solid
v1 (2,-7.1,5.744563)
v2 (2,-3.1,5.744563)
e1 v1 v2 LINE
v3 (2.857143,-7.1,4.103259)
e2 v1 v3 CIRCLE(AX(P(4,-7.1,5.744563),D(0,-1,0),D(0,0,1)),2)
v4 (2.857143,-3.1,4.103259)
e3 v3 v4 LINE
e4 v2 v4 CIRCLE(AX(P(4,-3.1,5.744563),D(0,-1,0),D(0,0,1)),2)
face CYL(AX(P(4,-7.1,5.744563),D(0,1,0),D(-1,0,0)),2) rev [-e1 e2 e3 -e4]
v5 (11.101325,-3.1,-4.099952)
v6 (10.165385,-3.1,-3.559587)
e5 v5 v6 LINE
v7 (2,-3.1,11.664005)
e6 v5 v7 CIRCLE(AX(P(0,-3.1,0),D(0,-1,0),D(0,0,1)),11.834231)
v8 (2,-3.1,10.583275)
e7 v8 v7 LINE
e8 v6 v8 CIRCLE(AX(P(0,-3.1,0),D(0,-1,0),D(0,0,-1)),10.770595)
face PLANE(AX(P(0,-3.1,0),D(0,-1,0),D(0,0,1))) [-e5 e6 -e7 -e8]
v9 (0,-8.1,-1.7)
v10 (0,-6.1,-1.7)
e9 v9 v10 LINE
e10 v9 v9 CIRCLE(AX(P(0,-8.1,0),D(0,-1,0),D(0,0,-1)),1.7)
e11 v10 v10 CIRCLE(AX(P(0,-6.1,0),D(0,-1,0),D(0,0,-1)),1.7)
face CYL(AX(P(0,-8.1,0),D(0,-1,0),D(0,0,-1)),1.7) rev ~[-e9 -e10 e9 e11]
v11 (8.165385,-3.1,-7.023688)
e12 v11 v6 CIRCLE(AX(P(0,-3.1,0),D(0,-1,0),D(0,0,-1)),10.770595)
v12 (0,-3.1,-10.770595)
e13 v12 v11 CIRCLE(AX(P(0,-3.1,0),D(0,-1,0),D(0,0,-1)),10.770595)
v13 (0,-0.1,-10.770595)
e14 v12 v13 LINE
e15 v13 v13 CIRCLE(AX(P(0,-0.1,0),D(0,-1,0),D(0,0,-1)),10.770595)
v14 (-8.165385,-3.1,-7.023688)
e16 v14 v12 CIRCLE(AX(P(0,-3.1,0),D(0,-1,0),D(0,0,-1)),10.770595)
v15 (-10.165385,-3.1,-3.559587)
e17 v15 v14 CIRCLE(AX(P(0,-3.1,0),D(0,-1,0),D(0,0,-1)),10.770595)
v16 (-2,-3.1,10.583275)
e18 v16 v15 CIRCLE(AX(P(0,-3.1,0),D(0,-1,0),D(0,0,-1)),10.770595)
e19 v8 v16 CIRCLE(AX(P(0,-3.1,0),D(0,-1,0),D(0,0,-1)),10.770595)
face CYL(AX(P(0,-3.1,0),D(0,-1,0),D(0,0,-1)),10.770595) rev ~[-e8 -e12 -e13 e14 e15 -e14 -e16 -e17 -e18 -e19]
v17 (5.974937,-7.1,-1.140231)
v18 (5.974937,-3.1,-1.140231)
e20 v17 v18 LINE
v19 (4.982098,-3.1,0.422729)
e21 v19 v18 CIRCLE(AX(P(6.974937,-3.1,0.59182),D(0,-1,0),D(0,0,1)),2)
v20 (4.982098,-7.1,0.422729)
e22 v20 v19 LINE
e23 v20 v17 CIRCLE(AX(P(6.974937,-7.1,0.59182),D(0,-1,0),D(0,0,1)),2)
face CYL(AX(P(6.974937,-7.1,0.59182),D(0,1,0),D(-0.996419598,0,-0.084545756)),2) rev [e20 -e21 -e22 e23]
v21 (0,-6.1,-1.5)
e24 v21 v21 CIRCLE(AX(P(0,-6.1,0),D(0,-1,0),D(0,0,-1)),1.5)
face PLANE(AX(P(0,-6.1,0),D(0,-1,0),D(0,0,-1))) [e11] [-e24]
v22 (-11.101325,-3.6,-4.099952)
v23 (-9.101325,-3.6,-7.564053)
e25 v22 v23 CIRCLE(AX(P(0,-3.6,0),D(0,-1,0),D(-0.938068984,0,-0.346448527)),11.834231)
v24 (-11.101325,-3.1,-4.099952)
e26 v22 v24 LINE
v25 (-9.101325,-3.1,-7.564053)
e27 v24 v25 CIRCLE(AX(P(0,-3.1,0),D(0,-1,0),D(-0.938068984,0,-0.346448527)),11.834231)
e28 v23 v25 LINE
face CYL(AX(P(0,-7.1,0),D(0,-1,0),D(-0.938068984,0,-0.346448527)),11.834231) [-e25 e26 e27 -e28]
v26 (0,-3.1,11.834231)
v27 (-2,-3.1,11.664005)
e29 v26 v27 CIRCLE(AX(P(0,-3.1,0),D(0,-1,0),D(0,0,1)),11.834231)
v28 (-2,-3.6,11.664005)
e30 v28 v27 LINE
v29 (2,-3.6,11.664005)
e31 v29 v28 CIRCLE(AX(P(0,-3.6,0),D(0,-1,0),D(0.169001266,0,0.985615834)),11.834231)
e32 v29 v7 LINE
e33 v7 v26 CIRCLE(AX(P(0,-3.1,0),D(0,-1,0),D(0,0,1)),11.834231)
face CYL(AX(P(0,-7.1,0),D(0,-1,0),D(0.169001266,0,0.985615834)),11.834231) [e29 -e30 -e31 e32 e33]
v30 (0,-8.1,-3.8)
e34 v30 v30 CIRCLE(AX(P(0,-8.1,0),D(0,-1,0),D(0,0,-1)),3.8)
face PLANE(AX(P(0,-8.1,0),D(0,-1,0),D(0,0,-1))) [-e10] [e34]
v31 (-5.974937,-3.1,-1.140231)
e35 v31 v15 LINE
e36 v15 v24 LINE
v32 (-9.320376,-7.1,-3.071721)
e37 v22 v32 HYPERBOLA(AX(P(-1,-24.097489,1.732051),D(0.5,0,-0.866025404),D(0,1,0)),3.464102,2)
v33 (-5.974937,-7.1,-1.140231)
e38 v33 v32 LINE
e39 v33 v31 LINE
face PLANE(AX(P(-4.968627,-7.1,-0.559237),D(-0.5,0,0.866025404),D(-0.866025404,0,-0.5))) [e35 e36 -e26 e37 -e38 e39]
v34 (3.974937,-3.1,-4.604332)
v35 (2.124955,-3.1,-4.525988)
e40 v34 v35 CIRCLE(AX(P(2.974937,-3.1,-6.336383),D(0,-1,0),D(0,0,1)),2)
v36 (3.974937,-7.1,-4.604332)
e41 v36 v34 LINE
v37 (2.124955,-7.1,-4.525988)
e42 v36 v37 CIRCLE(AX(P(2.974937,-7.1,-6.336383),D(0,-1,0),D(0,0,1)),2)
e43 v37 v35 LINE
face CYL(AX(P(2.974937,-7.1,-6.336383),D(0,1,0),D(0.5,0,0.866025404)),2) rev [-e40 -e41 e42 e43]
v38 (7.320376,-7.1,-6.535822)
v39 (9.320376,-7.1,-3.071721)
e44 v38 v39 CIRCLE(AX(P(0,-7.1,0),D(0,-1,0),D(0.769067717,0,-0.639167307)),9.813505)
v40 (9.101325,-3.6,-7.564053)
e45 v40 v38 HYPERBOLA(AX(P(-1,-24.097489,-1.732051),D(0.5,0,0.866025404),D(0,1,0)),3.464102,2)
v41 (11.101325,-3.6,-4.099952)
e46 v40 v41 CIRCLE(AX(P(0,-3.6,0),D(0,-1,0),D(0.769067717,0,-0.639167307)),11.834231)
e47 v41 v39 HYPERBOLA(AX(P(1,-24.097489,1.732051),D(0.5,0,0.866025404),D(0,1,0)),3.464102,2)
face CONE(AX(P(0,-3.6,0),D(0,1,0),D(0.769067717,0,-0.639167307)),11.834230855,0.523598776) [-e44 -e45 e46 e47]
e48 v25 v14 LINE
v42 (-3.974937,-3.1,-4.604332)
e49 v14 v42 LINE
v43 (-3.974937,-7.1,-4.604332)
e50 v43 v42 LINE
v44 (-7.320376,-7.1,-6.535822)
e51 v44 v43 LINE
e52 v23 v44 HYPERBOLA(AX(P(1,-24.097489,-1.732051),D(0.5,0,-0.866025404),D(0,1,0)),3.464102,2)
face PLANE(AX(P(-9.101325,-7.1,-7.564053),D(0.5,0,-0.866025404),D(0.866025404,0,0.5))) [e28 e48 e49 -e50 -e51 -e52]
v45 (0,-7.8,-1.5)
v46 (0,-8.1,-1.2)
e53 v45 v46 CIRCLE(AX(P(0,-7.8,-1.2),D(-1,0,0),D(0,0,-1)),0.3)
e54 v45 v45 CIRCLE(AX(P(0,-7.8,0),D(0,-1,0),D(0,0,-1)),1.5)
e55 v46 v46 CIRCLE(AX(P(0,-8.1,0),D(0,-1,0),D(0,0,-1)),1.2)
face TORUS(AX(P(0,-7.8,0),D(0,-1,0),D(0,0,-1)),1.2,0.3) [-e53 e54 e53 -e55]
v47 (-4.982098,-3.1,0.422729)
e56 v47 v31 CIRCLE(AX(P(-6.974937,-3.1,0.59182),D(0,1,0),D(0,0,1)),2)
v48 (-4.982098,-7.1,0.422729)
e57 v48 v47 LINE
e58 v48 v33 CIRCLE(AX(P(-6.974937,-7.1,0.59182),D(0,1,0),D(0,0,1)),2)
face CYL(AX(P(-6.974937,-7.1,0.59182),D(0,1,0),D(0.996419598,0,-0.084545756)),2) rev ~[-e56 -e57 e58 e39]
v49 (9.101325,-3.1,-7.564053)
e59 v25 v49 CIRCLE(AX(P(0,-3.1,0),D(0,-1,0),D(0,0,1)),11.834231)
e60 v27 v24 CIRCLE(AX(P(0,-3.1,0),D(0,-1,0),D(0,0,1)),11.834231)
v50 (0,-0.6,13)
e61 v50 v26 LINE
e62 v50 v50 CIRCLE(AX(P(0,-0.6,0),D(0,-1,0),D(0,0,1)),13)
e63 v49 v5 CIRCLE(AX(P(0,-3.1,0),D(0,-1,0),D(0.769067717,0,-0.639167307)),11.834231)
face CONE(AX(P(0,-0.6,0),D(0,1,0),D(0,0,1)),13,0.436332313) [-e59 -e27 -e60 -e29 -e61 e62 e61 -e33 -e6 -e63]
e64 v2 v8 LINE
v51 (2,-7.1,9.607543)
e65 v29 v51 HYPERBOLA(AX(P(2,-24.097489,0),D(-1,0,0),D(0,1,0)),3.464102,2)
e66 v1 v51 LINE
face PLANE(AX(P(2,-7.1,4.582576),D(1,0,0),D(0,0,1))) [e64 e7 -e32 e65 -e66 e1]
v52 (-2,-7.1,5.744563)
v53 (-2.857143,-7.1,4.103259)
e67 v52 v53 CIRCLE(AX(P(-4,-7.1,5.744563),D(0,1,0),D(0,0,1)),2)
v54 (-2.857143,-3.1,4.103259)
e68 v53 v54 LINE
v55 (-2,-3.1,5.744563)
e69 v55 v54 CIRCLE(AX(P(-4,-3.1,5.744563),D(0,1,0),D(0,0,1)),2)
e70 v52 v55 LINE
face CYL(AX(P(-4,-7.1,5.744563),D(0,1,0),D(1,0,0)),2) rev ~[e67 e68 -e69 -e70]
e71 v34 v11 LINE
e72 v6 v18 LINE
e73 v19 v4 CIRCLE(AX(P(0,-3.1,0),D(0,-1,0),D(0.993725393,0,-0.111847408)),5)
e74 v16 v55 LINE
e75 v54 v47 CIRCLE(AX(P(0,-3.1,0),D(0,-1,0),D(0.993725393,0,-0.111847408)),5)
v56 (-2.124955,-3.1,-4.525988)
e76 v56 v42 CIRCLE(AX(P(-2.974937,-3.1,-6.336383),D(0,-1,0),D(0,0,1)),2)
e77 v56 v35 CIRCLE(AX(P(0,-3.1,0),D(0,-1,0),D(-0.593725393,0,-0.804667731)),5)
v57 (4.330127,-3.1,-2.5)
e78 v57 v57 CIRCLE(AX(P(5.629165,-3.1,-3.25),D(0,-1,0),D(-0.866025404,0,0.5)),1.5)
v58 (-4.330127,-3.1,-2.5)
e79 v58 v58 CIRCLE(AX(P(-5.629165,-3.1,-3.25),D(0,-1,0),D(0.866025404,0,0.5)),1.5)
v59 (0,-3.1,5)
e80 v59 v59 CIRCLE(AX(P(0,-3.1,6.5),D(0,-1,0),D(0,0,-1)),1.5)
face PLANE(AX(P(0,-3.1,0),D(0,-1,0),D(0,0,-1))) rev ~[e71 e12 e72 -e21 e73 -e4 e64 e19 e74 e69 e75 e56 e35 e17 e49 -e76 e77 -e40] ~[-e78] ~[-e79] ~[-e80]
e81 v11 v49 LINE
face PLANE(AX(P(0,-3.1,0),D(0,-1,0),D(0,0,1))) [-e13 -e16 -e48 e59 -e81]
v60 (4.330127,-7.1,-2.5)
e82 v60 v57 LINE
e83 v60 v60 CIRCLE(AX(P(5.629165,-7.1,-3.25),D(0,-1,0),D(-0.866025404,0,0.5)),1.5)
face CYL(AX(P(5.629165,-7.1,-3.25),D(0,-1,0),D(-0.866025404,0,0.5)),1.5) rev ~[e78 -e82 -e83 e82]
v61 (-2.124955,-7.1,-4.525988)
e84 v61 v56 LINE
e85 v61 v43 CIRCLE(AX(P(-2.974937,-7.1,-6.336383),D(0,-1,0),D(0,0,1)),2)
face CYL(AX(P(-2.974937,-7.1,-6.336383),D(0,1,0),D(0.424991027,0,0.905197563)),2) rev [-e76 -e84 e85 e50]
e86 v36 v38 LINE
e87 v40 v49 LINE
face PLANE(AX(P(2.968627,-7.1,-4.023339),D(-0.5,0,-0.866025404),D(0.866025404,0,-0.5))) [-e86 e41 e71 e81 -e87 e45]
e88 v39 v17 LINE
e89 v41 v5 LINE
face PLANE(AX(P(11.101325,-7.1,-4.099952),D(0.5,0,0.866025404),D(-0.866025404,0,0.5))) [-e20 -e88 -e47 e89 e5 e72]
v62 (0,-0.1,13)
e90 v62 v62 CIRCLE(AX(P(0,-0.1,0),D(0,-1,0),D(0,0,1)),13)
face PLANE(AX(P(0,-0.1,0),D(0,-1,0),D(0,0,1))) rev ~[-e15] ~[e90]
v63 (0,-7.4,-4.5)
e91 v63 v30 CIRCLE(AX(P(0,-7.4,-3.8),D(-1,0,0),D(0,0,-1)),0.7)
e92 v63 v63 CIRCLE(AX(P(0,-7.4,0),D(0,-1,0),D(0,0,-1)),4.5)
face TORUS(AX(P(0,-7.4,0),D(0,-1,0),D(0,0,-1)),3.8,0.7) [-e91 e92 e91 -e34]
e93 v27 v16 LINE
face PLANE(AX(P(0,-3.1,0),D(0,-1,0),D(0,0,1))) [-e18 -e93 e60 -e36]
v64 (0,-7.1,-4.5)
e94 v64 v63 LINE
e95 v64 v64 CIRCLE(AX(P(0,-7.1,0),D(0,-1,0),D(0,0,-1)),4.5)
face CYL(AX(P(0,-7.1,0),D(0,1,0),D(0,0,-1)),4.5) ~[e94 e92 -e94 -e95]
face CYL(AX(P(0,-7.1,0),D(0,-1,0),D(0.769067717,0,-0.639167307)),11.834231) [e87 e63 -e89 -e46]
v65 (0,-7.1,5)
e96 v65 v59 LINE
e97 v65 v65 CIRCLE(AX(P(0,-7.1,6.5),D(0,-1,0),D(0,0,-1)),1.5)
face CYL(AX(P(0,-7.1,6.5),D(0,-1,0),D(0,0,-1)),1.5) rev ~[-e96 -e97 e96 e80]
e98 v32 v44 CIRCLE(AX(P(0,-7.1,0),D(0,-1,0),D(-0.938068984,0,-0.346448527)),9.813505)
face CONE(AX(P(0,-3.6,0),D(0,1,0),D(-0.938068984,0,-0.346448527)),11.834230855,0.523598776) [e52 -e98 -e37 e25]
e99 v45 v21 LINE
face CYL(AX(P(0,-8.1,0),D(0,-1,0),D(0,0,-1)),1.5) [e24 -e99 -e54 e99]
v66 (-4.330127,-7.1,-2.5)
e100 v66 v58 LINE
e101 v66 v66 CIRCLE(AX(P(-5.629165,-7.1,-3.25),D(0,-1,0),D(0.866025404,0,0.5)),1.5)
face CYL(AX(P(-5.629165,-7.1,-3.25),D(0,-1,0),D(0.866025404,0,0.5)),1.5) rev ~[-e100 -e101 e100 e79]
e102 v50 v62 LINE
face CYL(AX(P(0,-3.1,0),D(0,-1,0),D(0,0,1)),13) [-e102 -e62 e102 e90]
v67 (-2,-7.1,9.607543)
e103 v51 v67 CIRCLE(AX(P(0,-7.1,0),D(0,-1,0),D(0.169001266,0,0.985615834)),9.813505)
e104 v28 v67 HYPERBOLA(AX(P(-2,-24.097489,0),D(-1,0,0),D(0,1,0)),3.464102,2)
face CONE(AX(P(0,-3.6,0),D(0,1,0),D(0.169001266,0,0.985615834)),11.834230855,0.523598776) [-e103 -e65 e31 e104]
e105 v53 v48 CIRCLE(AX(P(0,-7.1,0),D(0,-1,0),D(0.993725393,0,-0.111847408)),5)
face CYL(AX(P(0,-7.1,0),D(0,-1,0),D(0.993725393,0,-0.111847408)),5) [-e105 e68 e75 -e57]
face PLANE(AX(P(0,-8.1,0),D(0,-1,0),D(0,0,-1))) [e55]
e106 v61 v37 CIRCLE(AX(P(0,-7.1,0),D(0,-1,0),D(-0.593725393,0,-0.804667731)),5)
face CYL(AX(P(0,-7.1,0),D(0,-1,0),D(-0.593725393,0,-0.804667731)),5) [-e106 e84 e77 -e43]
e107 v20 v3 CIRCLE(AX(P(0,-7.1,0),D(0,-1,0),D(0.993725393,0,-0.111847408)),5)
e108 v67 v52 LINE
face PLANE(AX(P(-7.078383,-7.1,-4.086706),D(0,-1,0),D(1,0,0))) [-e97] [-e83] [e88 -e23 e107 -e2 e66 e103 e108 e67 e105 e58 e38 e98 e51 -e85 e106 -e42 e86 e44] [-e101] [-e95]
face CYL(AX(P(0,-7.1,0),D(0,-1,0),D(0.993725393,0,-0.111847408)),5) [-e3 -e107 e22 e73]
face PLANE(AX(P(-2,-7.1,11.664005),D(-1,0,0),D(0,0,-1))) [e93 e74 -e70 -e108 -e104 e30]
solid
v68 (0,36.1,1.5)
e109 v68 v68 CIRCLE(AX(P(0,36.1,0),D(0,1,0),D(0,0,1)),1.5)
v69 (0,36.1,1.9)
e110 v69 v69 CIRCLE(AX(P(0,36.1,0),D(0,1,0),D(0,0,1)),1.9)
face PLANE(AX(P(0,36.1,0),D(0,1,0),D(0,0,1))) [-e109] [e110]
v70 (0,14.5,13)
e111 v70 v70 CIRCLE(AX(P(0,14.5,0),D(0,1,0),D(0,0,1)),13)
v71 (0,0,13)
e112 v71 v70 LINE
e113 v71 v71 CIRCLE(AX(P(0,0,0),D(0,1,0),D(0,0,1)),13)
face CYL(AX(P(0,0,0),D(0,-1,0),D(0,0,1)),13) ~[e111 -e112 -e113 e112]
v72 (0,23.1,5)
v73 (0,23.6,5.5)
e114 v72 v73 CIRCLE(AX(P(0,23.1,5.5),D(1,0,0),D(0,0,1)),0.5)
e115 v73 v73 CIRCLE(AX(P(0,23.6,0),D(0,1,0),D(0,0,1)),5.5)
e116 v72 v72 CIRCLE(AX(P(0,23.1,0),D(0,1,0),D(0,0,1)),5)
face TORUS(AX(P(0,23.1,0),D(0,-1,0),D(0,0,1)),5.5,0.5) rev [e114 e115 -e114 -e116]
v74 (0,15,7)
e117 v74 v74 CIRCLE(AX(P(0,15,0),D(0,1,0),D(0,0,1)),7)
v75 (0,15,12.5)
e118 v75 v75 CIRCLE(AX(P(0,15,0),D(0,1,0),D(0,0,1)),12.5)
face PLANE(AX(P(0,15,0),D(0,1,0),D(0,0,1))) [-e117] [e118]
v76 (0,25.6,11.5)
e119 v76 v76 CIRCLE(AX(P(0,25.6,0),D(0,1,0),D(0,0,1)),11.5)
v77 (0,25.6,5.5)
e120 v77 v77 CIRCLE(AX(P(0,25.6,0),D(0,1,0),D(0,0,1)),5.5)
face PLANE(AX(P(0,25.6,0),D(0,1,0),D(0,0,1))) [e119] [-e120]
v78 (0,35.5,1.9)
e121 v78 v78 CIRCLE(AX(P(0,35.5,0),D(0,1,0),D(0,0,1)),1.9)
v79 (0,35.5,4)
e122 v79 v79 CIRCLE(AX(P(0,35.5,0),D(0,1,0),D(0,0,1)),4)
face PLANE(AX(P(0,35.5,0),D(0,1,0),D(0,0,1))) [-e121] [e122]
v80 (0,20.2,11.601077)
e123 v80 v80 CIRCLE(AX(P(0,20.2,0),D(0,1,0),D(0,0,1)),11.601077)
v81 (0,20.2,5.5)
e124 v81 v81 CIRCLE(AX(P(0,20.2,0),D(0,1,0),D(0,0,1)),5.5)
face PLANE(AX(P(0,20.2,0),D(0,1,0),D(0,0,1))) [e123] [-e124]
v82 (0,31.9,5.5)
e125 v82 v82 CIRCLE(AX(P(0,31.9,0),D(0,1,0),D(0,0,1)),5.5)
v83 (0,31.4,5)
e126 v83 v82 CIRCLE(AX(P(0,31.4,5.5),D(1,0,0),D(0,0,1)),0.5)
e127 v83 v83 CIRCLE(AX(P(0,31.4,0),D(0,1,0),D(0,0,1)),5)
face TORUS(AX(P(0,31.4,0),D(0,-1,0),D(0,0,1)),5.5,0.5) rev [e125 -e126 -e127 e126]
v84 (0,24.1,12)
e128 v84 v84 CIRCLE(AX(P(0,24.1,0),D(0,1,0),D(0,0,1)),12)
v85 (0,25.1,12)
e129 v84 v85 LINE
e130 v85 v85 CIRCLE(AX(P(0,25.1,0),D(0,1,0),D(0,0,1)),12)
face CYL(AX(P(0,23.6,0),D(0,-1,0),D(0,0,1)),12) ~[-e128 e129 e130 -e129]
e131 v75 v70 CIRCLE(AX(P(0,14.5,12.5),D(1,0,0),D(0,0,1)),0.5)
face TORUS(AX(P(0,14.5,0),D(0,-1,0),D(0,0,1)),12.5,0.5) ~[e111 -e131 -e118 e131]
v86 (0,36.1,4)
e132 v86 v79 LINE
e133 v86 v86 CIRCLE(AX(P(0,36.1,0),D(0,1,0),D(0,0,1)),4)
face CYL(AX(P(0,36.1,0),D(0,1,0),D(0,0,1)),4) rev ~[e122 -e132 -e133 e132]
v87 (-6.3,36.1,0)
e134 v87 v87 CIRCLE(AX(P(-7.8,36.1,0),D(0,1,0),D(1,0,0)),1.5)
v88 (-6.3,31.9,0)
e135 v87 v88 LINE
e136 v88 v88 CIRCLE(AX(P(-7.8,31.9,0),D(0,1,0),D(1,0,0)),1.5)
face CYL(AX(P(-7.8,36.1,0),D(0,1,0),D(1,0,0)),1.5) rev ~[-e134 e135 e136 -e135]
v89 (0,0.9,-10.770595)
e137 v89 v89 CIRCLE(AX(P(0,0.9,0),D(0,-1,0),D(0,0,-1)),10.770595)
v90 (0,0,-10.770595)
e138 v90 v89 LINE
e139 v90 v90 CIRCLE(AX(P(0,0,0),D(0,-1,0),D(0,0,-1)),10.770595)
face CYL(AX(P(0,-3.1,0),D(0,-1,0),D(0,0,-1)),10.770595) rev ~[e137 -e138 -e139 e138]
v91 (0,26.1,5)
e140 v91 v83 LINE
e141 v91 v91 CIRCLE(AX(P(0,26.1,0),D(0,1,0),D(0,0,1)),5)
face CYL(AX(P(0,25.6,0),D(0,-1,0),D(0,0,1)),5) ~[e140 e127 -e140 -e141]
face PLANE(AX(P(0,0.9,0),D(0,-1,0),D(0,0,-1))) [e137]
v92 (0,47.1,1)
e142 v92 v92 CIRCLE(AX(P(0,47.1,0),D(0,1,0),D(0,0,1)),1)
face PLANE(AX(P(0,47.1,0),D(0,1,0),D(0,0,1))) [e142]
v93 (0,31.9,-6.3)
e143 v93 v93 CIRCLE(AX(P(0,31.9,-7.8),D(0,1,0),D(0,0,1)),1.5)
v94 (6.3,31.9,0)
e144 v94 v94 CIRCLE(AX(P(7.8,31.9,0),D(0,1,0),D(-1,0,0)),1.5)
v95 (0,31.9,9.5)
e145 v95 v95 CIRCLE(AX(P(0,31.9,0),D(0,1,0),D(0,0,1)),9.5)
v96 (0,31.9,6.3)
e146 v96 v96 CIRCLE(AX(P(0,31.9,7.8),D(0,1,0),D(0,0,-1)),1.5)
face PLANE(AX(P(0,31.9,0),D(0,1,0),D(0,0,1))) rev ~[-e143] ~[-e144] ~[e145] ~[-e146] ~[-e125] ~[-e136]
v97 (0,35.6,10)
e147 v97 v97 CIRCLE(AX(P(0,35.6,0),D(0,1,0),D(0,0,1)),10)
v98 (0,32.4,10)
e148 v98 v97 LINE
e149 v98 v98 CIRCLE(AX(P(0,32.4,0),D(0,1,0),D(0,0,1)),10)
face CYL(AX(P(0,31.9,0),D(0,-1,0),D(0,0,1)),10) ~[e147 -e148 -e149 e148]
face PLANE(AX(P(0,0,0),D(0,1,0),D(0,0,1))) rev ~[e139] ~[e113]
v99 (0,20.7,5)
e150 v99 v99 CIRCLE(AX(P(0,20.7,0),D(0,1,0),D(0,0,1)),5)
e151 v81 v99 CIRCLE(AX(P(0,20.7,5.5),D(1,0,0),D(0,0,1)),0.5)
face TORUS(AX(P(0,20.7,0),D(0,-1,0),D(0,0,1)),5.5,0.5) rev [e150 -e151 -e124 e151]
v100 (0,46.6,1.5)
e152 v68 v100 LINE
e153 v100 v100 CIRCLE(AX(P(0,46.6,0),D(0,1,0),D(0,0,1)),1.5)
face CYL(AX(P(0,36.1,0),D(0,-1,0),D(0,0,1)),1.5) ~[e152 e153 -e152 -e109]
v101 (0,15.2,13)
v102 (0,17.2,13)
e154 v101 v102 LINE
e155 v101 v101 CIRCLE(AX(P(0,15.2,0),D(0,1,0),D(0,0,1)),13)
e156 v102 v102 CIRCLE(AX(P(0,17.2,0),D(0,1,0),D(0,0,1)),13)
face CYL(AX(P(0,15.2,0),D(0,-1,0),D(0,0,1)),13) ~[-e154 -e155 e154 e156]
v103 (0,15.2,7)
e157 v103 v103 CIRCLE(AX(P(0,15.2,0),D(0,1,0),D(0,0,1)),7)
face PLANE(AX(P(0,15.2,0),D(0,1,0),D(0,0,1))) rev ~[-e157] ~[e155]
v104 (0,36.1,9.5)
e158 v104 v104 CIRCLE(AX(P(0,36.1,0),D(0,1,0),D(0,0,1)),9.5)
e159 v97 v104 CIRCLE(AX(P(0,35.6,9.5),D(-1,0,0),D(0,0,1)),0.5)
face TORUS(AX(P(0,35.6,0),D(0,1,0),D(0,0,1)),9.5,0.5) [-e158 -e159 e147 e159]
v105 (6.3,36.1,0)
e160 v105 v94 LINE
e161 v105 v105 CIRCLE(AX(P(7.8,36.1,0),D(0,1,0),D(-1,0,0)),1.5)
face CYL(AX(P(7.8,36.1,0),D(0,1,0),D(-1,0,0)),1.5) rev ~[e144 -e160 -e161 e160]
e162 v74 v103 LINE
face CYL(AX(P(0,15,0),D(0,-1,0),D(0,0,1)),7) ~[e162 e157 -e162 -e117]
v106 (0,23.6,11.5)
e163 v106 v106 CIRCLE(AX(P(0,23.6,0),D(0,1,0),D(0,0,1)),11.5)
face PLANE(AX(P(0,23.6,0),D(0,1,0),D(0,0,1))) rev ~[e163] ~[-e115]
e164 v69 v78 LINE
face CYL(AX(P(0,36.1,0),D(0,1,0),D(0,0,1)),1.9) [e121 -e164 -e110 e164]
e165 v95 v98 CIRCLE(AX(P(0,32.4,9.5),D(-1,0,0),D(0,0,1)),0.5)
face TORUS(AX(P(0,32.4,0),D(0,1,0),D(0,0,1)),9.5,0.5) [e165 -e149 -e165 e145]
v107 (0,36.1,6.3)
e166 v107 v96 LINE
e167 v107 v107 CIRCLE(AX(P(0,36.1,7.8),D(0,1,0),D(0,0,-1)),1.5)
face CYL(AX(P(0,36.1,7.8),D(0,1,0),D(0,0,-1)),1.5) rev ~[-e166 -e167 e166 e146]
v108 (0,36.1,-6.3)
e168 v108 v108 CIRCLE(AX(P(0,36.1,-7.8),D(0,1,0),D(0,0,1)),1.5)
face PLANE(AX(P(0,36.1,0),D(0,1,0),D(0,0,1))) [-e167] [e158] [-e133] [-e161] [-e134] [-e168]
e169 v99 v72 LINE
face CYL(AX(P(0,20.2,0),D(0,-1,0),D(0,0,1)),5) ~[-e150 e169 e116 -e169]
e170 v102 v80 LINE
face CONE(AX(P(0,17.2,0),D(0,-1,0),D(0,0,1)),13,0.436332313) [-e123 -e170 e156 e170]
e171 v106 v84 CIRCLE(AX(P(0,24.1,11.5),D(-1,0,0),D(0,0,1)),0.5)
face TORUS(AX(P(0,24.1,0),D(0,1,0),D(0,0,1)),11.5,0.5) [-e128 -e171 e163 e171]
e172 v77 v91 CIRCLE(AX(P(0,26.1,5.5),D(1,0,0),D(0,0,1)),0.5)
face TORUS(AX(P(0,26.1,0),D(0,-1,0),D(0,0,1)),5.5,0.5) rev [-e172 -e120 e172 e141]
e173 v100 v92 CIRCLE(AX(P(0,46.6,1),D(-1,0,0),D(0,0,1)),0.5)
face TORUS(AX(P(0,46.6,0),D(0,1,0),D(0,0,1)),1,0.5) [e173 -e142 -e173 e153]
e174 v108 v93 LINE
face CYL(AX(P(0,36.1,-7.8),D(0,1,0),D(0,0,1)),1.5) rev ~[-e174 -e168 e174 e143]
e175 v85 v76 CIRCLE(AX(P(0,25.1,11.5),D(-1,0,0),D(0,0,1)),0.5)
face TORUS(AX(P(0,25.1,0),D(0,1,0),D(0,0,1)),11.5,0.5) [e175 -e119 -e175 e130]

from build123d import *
from OCP.BRepFilletAPI import BRepFilletAPI_MakeChamfer

# Parameters (mm, degrees)
SKETCH1_R            = 13
BOSS_EXTRUDE1_DEPTH  = 15
SKETCH2_R            = 7
BOSS_EXTRUDE2_DEPTH  = 0.2
SKETCH4_R            = 13.000000000000004
BOSS_EXTRUDE3_DEPTH  = 5
SKETCH5_R            = 5
BOSS_EXTRUDE4_DEPTH  = 3.4
SKETCH6_R            = 12
BOSS_EXTRUDE5_DEPTH  = 2
SKETCH7_R            = 5
BOSS_EXTRUDE6_DEPTH  = 6.3
SKETCH8_R            = 10
BOSS_EXTRUDE7_DEPTH  = 4.2
CHAMFER1_SIZE        = 3
CHAMFER1_SIZE2       = 1.3989229744649996
FILLET1_R            = 0.5
SKETCH9_R            = 8.463574214087313
BOSS_EXTRUDE8_DEPTH  = 0.1
BOSS_EXTRUDE9_START  = 3
SKETCH10_R           = 13.000000000000004
BOSS_EXTRUDE9_DEPTH  = 3
CHAMFER2_SIZE        = 2.5
CHAMFER2_SIZE2       = 1.1657691453874992
BOSS_EXTRUDE10_START = 4
BOSS_EXTRUDE10_DEPTH = 4
CHAMFER3_SIZE        = 3.5
CHAMFER3_SIZE2       = 2.0207259421636956
SKETCH13_R           = 10.77059477245057
CUT_EXTRUDE1_DEPTH   = 4
SKETCH14_R           = 4.5
BOSS_EXTRUDE11_DEPTH = 1
FILLET2_R            = 0.7
FILLET3_R            = 2
SKETCH15_R           = 1.5000000000000002
CUT_EXTRUDE2_DEPTH   = 4
CIRPATTERN1_COUNT    = 3
SKETCH16_R           = 1.7
SKETCH16_R_2         = 1.5
CUT_EXTRUDE3_DEPTH   = 2
FILLET4_R            = 0.3
SKETCH17_R           = 4
SKETCH17_R_2         = 1.9
CUT_EXTRUDE4_DEPTH   = 0.6
SKETCH18_R           = 1.5
BOSS_EXTRUDE12_DEPTH = 11
FILLET5_R            = 0.5
SKETCH19_R           = 1.4999999999999998
CUT_EXTRUDE5_DEPTH   = 5
CIRPATTERN2_COUNT    = 4


with BuildPart() as part:
    # Sketch1 → Boss-Extrude1 (new body)
    with BuildSketch(Plane(origin=(0, 0, 0), x_dir=(1, 0, 0), z_dir=(0, 1, 0))):
        with Locations(Location((0, 0, 0), (0, 0, 270))):
            Circle(SKETCH1_R)
    extrude(amount=BOSS_EXTRUDE1_DEPTH)

    # Sketch2 → Boss-Extrude2 (add)
    with BuildSketch(Plane(origin=(0, 15, 0), x_dir=(1, 0, 0), z_dir=(0, 1, 0))):
        with Locations(Location((0, 0, 0), (0, 0, 270))):
            Circle(SKETCH2_R)
    extrude(amount=BOSS_EXTRUDE2_DEPTH)

    # Sketch4 → Boss-Extrude3 (add)
    with BuildSketch(Plane(origin=(0, 15.2, 0), x_dir=(1, 0, 0), z_dir=(0, 1, 0))):
        with Locations(Location((0, 0, 0), (0, 0, 270))):
            Circle(SKETCH4_R)
    extrude(amount=BOSS_EXTRUDE3_DEPTH)

    # Sketch5 → Boss-Extrude4 (add)
    with BuildSketch(Plane(origin=(0, 20.2, 0), x_dir=(1, 0, 0), z_dir=(0, 1, 0))):
        with Locations(Location((0, 0, 0), (0, 0, 270))):
            Circle(SKETCH5_R)
    extrude(amount=BOSS_EXTRUDE4_DEPTH)

    # Sketch6 → Boss-Extrude5 (add)
    with BuildSketch(Plane(origin=(0, 23.599999999999998, 0), x_dir=(1, 0, 0), z_dir=(0, 1, 0))):
        with Locations(Location((0, 0, 0), (0, 0, 270))):
            Circle(SKETCH6_R)
    extrude(amount=BOSS_EXTRUDE5_DEPTH)

    # Sketch7 → Boss-Extrude6 (add)
    with BuildSketch(Plane(origin=(0, 25.599999999999998, 0), x_dir=(1, 0, 0), z_dir=(0, 1, 0))):
        with Locations(Location((0, 0, 0), (0, 0, 270))):
            Circle(SKETCH7_R)
    extrude(amount=BOSS_EXTRUDE6_DEPTH)

    # Sketch8 → Boss-Extrude7 (add)
    with BuildSketch(Plane(origin=(0, 31.9, 0), x_dir=(1, 0, 0), z_dir=(0, 1, 0))):
        with Locations(Location((0, 0, 0), (0, 0, 270))):
            Circle(SKETCH8_R)
    extrude(amount=BOSS_EXTRUDE7_DEPTH)

    # Chamfer1
    chamfer1_edges = [part.edges().sort_by_distance(p)[0] for p in [
        (3.98e-15, 20.2, -13.000000000000004),
    ]]
    chamfer1_side = [part.faces().sort_by_distance(p)[0] for p in [
        (3.98e-15, 17.7, -13.000000000000004),
    ]]
    chamfer(chamfer1_edges, length=CHAMFER1_SIZE, length2=CHAMFER1_SIZE2, reference=chamfer1_side[0])

    # Fillet1
    fillet1_edges = [part.edges().sort_by_distance(p)[0] for p in [
        (1.53e-15, 20.2, -5),
        (1.53e-15, 23.599999999999998, -5),
        (3.67e-15, 23.599999999999998, -12),
        (3.67e-15, 25.599999999999998, -12),
        (1.53e-15, 25.599999999999998, -5),
        (1.53e-15, 31.9, -5),
        (3.06e-15, 31.9, -10),
        (3.06e-15, 36.1, -10),
        (-1.79e-15, 15, -13),
    ]]
    fillet(fillet1_edges, radius=FILLET1_R)

    # Sketch9 → Boss-Extrude8 (add)
    with BuildSketch(Plane.XZ):
        with Locations(Location((0, 0, 0), (0, 0, 270))):
            Circle(SKETCH9_R)
    extrude(amount=BOSS_EXTRUDE8_DEPTH)

    # Sketch10 → Boss-Extrude9 (add)
    with BuildSketch(Plane.XZ.offset(0.1).offset(BOSS_EXTRUDE9_START)):
        with Locations(Location((0, 0, 0), (0, 0, 90))):
            Circle(SKETCH10_R)
    extrude(amount=-BOSS_EXTRUDE9_DEPTH)

    # Chamfer2
    chamfer2_edges = [part.edges().sort_by_distance(p)[0] for p in [
        (-2.39e-15, -3.1, -13.000000000000004),
    ]]
    chamfer2_side = [part.faces().sort_by_distance(p)[0] for p in [
        (-2.39e-15, -1.6, -13.000000000000004),
    ]]
    chamfer(chamfer2_edges, length=CHAMFER2_SIZE, length2=CHAMFER2_SIZE2, reference=chamfer2_side[0])

    # Sketch12 → Boss-Extrude10 (add)
    with BuildSketch(Plane.XZ.offset(3.1).offset(BOSS_EXTRUDE10_START)):
        with BuildLine():
            Line((-4.968626966596926, -0.5592370399090334), (-11.10132491013915, -4.099951848471753))
            ThreePointArc((-11.1013249101391, -4.099951848471809), (-10.713631015383742, -5.026642058717716), (-10.248744788504228, -5.917115021728898))
            ThreePointArc((-10.248744788504228, -5.917115021728898), (-9.710015493984855, -6.764955212478231), (-9.101324910139237, -7.564053463609399))
            Line((-9.101324910139185, -7.56405346360953), (-2.9686269665968643, -4.023338655046755))
            ThreePointArc((-2.96862696659685, -4.023338655046824), (-4.330127018922175, -2.5000000000000315), (-4.968626966596883, -0.5592370399090708))
        make_face()
        with BuildLine():
            Line((-2.0000000000000036, 1.1547005383792586), (-4.968626966596926, -0.5592370399090334))
            ThreePointArc((-4.968626966596883, -0.5592370399090708), (-4.330127018922175, -2.5000000000000315), (-2.96862696659685, -4.023338655046824))
            Line((-2.9686269665968643, -4.023338655046755), (-3.55e-15, -2.3094010767584994))
            Line((-5.33e-15, -2.3094010767585016), (-1.000000000000002, -1.7320508075688765))
            Line((-1.000000000000002, -1.7320508075688765), (4.4e-16, 2.2e-16))
            Line((0, 2.3e-16), (-2, -1e-17))
            Line((-2, -1e-17), (-2, 1.15470053837926))
        make_face()
        with BuildLine():
            Line((-3.55e-15, -2.3094010767584994), (-2.9686269665968643, -4.023338655046755))
            ThreePointArc((-2.96862696659685, -4.023338655046824), (-1.868e-14, -5), (2.96862696659682, -4.023338655046846))
            Line((2.968626966596837, -4.023338655046775), (-5.33e-15, -2.3094010767585016))
        make_face()
        with BuildLine():
            Line((0.9999999999999911, -1.7320508075688847), (-3.55e-15, -2.3094010767584994))
            Line((-5.33e-15, -2.3094010767585016), (2.968626966596837, -4.023338655046775))
            ThreePointArc((2.96862696659682, -4.023338655046846), (4.330127018922203, -2.499999999999983), (4.968626966596899, -0.559237039908927))
            Line((4.968626966596811, -0.5592370399090061), (2.0000000000000027, 1.1547005383792481))
            Line((2.000000000000002, 1.1547005383792481), (2.0000000000000027, 4.8e-16))
            Line((2.0000000000000027, 4.8e-16), (0, 2.3e-16))
            Line((2.2e-16, -2.2e-16), (0.9999999999999907, -1.7320508075688847))
        make_face()
        with BuildLine():
            Line((2.968626966596837, -4.023338655046775), (9.10132491013913, -7.564053463609591))
            ThreePointArc((9.101324910139173, -7.564053463609475), (9.710015458843332, -6.76495526291829), (10.248744727029683, -5.917115128205941))
            ThreePointArc((10.248744727029683, -5.917115128205941), (10.713630989272133, -5.026642114371199), (11.101324910139066, -4.0999518484719015))
            Line((11.101324910139121, -4.099951848471832), (4.968626966596811, -0.5592370399090061))
            ThreePointArc((4.968626966596899, -0.559237039908927), (4.330127018922203, -2.499999999999983), (2.96862696659682, -4.023338655046846))
        make_face()
        Polygon((-1.000000000000002, -1.7320508075688765), (-5.33e-15, -2.3094010767585016), (0.9999999999999911, -1.7320508075688847), (2.2e-16, -2.2e-16), align=None)
        Polygon((1.000000000000002, 1.7320508075688756), (4.4e-16, 2.2e-16), (2.0000000000000027, 4.8e-16), (2.000000000000002, 1.1547005383792481), align=None)
        with BuildLine():
            ThreePointArc((5, 0), (4.183300132670404, 2.738612787525792), (2.0000000000000853, 4.5825756949558025))
            Line((2.0000000000000018, 4.582575694955776), (2.000000000000002, 1.1547005383792481))
            Line((2.0000000000000027, 1.1547005383792481), (4.968626966596811, -0.5592370399090061))
            ThreePointArc((4.968626966596899, -0.559237039908927), (4.992150580310278, -0.28005817879104034), (5, -1.22e-15))
        make_face()
        with BuildLine():
            Line((-2, 4.582575694955866), (-2, 1.15470053837926))
            Line((-2.0000000000000036, 1.1547005383792586), (-0.9999999999999911, 1.7320508075688839))
            Line((-0.9999999999999902, 1.7320508075688843), (2.2e-16, -2.2e-16))
            Line((4.4e-16, 2.2e-16), (1.000000000000002, 1.7320508075688756))
            Line((1.000000000000002, 1.7320508075688756), (2.0000000000000027, 1.1547005383792481))
            Line((2.000000000000002, 1.1547005383792481), (2.0000000000000018, 4.582575694955776))
            ThreePointArc((2.0000000000000853, 4.5825756949558025), (6.47e-14, 5), (-1.9999999999999662, 4.582575694955855))
        make_face()
        with BuildLine():
            ThreePointArc((-1.9999999999999662, 4.582575694955855), (-4.330127018922191, 2.500000000000004), (-4.968626966596883, -0.5592370399090708))
            Line((-4.968626966596926, -0.5592370399090334), (-2.0000000000000036, 1.1547005383792586))
            Line((-2, 1.15470053837926), (-2, 4.582575694955866))
        make_face()
        with BuildLine():
            ThreePointArc((5.853e-14, 11.834230854612493), (-1.0036155557942605, 11.791597675312286), (-1.9999999999997802, 11.664005312081404))
            Line((-2, 11.66400531208144), (-2, 4.582575694955866))
            ThreePointArc((-1.9999999999999662, 4.582575694955855), (6.47e-14, 5), (2.0000000000000853, 4.5825756949558025))
            Line((2.0000000000000018, 4.582575694955776), (2, 11.664005312081269))
            ThreePointArc((2.0000000000002918, 11.664005312081317), (1.0036155557945787, 11.791597675312259), (5.853e-14, 11.834230854612493))
        make_face()
        Polygon((-0.9999999999999911, 1.7320508075688839), (-2.0000000000000036, 1.1547005383792586), (-2, -1e-17), (0, 2.3e-16), align=None)
    extrude(amount=-BOSS_EXTRUDE10_DEPTH)

    # Chamfer3: one chamfer whose edges measure the first distance from different faces: ONE call of the kernel's chamfer builder (chamfer() names one face for all edges)
    chamfer3_edges_1 = [part.edges().sort_by_distance(p)[0] for p in [
        (10.248744554344045, -7.1, -5.917115427306248),
    ]]
    chamfer3_side_1 = [part.faces().sort_by_distance(p)[0] for p in [
        (10.248744554344047, -5.1, -5.917115427306248),
    ]]
    chamfer3_edges_2 = [part.edges().sort_by_distance(p)[0] for p in [
        (1.3683e-13, -7.1, 11.834230854612489),
    ]]
    chamfer3_side_2 = [part.faces().sort_by_distance(p)[0] for p in [
        (2.936e-13, -5.1, 11.834230854612489),
    ]]
    chamfer3_edges_3 = [part.edges().sort_by_distance(p)[0] for p in [
        (-10.24874455434409, -7.1, -5.917115427306171),
    ]]
    chamfer3_side_3 = [part.faces().sort_by_distance(p)[0] for p in [
        (-10.24874455434409, -5.1, -5.9171154273061735),
    ]]
    chamfer3 = BRepFilletAPI_MakeChamfer(part.part.solid().wrapped)
    for e in chamfer3_edges_1:
        chamfer3.Add(CHAMFER3_SIZE, CHAMFER3_SIZE2, e.wrapped, chamfer3_side_1[0].wrapped)  # the first distance lies on this face
    for e in chamfer3_edges_2:
        chamfer3.Add(CHAMFER3_SIZE, CHAMFER3_SIZE2, e.wrapped, chamfer3_side_2[0].wrapped)  # the first distance lies on this face
    for e in chamfer3_edges_3:
        chamfer3.Add(CHAMFER3_SIZE, CHAMFER3_SIZE2, e.wrapped, chamfer3_side_3[0].wrapped)  # the first distance lies on this face
    add(Compound.cast(chamfer3.Shape()), mode=Mode.REPLACE)

    # Sketch13 → Cut-Extrude1 (cut)
    with BuildSketch(Plane.XZ.offset(3.1)):
        with Locations(Location((0, 0, 0), (0, 0, 270))):
            Circle(SKETCH13_R)
    extrude(amount=-CUT_EXTRUDE1_DEPTH, mode=Mode.SUBTRACT)


with BuildPart() as cut_extrude1_piece_1:
    # of the separate pieces the step leaves, piece 1, a body of its own (cut_extrude1_pieces)
    add(part.part.solids().sort_by_distance((0, 0, 13))[0])

    # Sketch17 → Cut-Extrude4 (cut)
    with BuildSketch(Plane(origin=(0, 36.1, 0), x_dir=(1, 0, 0), z_dir=(0, 1, 0))):
        with Locations(Location((0, 0, 0), (0, 0, 270))):
            Circle(SKETCH17_R)
        with Locations(Location((0, 0, 0), (0, 0, 270))):
            Circle(SKETCH17_R_2, mode=Mode.SUBTRACT)
    extrude(amount=-CUT_EXTRUDE4_DEPTH, mode=Mode.SUBTRACT)

    # Sketch18 → Boss-Extrude12 (add)
    with BuildSketch(Plane(origin=(0, 36.1, 0), x_dir=(1, 0, 0), z_dir=(0, 1, 0))):
        with Locations(Location((0, 0, 0), (0, 0, 270))):
            Circle(SKETCH18_R)
    extrude(amount=BOSS_EXTRUDE12_DEPTH)

    # Fillet5
    fillet5_edges = [cut_extrude1_piece_1.edges().sort_by_distance(p)[0] for p in [
        (4.6e-16, 47.1, -1.5),
    ]]
    fillet(fillet5_edges, radius=FILLET5_R)

    # Sketch19 → Cut-Extrude5 (cut)
    with BuildSketch(Plane(origin=(0, 36.1, 0), x_dir=(1, 0, 0), z_dir=(0, 1, 0))):
        with Locations(Location((0, 7.8, 0), (0, 0, 270))):
            Circle(SKETCH19_R)
    cut_extrude5 = extrude(amount=-CUT_EXTRUDE5_DEPTH, mode=Mode.SUBTRACT)

    # CirPattern2: Cut-Extrude5 ×4 about axis
    cirpattern2_axis = Axis((-1.362e-14, 0, 0), (0, 1, 0))
    for i in range(1, CIRPATTERN2_COUNT):
        add(cut_extrude5.rotate(cirpattern2_axis, i * 360 / CIRPATTERN2_COUNT), mode=Mode.SUBTRACT)


with BuildPart() as cut_extrude1_piece_2:
    # of the separate pieces the step leaves, piece 2, a body of its own (cut_extrude1_pieces)
    add(part.part.solids().sort_by_distance((2, -3.6, 11.664005312))[0])

    # Sketch14 → Boss-Extrude11 (add)
    with BuildSketch(Plane.XZ.offset(7.1000000000000005)):
        with Locations(Location((0, 0, 0), (0, 0, 270))):
            Circle(SKETCH14_R)
    extrude(amount=BOSS_EXTRUDE11_DEPTH)

    # Fillet2
    fillet2_edges = [cut_extrude1_piece_2.edges().sort_by_distance(p)[0] for p in [
        (1.38e-15, -8.100000000000001, 4.5),
    ]]
    fillet(fillet2_edges, radius=FILLET2_R)

    # Fillet3
    fillet3_edges = [cut_extrude1_piece_2.edges().sort_by_distance(p)[0] for p in [
        (-2.968626966596857, -5.1, -4.023338655046789),
        (2.968626966596829, -5.1, -4.02333865504681),
        (4.9686269665968545, -5.1, -0.5592370399089666),
        (2.0000000000000435, -5.1, 4.582575694955789),
        (-1.9999999999999831, -5.1, 4.58257569495586),
        (-4.968626966596904, -5.1, -0.5592370399090523),
    ]]
    fillet(fillet3_edges, radius=FILLET3_R)

    # Sketch15 → Cut-Extrude2 (cut)
    with BuildSketch(Plane.XZ.offset(7.1000000000000005)):
        with Locations(Location((0, 6.5, 0), (0, 0, 270))):
            Circle(SKETCH15_R)
    cut_extrude2 = extrude(amount=-CUT_EXTRUDE2_DEPTH, mode=Mode.SUBTRACT)

    # CirPattern1: Cut-Extrude2 ×3 about axis
    cirpattern1_axis = Axis((-9e-17, 0, -3.4e-16), (0, 1, 0))
    for i in range(1, CIRPATTERN1_COUNT):
        add(cut_extrude2.rotate(cirpattern1_axis, i * 360 / CIRPATTERN1_COUNT), mode=Mode.SUBTRACT)

    # Sketch16 → Cut-Extrude3 (cut)
    with BuildSketch(Plane.XZ.offset(8.1)):
        with Locations(Location((0, 0, 0), (0, 0, 270))):
            Circle(SKETCH16_R)
        with Locations(Location((0, 0, 0), (0, 0, 270))):
            Circle(SKETCH16_R_2, mode=Mode.SUBTRACT)
    extrude(amount=-CUT_EXTRUDE3_DEPTH, mode=Mode.SUBTRACT)

    # Fillet4
    fillet4_edges = [cut_extrude1_piece_2.edges().sort_by_distance(p)[0] for p in [
        (4.6e-16, -8.1, 1.5),
    ]]
    fillet(fillet4_edges, radius=FILLET4_R)


solid = Compound([cut_extrude1_piece_1.part, cut_extrude1_piece_2.part])
